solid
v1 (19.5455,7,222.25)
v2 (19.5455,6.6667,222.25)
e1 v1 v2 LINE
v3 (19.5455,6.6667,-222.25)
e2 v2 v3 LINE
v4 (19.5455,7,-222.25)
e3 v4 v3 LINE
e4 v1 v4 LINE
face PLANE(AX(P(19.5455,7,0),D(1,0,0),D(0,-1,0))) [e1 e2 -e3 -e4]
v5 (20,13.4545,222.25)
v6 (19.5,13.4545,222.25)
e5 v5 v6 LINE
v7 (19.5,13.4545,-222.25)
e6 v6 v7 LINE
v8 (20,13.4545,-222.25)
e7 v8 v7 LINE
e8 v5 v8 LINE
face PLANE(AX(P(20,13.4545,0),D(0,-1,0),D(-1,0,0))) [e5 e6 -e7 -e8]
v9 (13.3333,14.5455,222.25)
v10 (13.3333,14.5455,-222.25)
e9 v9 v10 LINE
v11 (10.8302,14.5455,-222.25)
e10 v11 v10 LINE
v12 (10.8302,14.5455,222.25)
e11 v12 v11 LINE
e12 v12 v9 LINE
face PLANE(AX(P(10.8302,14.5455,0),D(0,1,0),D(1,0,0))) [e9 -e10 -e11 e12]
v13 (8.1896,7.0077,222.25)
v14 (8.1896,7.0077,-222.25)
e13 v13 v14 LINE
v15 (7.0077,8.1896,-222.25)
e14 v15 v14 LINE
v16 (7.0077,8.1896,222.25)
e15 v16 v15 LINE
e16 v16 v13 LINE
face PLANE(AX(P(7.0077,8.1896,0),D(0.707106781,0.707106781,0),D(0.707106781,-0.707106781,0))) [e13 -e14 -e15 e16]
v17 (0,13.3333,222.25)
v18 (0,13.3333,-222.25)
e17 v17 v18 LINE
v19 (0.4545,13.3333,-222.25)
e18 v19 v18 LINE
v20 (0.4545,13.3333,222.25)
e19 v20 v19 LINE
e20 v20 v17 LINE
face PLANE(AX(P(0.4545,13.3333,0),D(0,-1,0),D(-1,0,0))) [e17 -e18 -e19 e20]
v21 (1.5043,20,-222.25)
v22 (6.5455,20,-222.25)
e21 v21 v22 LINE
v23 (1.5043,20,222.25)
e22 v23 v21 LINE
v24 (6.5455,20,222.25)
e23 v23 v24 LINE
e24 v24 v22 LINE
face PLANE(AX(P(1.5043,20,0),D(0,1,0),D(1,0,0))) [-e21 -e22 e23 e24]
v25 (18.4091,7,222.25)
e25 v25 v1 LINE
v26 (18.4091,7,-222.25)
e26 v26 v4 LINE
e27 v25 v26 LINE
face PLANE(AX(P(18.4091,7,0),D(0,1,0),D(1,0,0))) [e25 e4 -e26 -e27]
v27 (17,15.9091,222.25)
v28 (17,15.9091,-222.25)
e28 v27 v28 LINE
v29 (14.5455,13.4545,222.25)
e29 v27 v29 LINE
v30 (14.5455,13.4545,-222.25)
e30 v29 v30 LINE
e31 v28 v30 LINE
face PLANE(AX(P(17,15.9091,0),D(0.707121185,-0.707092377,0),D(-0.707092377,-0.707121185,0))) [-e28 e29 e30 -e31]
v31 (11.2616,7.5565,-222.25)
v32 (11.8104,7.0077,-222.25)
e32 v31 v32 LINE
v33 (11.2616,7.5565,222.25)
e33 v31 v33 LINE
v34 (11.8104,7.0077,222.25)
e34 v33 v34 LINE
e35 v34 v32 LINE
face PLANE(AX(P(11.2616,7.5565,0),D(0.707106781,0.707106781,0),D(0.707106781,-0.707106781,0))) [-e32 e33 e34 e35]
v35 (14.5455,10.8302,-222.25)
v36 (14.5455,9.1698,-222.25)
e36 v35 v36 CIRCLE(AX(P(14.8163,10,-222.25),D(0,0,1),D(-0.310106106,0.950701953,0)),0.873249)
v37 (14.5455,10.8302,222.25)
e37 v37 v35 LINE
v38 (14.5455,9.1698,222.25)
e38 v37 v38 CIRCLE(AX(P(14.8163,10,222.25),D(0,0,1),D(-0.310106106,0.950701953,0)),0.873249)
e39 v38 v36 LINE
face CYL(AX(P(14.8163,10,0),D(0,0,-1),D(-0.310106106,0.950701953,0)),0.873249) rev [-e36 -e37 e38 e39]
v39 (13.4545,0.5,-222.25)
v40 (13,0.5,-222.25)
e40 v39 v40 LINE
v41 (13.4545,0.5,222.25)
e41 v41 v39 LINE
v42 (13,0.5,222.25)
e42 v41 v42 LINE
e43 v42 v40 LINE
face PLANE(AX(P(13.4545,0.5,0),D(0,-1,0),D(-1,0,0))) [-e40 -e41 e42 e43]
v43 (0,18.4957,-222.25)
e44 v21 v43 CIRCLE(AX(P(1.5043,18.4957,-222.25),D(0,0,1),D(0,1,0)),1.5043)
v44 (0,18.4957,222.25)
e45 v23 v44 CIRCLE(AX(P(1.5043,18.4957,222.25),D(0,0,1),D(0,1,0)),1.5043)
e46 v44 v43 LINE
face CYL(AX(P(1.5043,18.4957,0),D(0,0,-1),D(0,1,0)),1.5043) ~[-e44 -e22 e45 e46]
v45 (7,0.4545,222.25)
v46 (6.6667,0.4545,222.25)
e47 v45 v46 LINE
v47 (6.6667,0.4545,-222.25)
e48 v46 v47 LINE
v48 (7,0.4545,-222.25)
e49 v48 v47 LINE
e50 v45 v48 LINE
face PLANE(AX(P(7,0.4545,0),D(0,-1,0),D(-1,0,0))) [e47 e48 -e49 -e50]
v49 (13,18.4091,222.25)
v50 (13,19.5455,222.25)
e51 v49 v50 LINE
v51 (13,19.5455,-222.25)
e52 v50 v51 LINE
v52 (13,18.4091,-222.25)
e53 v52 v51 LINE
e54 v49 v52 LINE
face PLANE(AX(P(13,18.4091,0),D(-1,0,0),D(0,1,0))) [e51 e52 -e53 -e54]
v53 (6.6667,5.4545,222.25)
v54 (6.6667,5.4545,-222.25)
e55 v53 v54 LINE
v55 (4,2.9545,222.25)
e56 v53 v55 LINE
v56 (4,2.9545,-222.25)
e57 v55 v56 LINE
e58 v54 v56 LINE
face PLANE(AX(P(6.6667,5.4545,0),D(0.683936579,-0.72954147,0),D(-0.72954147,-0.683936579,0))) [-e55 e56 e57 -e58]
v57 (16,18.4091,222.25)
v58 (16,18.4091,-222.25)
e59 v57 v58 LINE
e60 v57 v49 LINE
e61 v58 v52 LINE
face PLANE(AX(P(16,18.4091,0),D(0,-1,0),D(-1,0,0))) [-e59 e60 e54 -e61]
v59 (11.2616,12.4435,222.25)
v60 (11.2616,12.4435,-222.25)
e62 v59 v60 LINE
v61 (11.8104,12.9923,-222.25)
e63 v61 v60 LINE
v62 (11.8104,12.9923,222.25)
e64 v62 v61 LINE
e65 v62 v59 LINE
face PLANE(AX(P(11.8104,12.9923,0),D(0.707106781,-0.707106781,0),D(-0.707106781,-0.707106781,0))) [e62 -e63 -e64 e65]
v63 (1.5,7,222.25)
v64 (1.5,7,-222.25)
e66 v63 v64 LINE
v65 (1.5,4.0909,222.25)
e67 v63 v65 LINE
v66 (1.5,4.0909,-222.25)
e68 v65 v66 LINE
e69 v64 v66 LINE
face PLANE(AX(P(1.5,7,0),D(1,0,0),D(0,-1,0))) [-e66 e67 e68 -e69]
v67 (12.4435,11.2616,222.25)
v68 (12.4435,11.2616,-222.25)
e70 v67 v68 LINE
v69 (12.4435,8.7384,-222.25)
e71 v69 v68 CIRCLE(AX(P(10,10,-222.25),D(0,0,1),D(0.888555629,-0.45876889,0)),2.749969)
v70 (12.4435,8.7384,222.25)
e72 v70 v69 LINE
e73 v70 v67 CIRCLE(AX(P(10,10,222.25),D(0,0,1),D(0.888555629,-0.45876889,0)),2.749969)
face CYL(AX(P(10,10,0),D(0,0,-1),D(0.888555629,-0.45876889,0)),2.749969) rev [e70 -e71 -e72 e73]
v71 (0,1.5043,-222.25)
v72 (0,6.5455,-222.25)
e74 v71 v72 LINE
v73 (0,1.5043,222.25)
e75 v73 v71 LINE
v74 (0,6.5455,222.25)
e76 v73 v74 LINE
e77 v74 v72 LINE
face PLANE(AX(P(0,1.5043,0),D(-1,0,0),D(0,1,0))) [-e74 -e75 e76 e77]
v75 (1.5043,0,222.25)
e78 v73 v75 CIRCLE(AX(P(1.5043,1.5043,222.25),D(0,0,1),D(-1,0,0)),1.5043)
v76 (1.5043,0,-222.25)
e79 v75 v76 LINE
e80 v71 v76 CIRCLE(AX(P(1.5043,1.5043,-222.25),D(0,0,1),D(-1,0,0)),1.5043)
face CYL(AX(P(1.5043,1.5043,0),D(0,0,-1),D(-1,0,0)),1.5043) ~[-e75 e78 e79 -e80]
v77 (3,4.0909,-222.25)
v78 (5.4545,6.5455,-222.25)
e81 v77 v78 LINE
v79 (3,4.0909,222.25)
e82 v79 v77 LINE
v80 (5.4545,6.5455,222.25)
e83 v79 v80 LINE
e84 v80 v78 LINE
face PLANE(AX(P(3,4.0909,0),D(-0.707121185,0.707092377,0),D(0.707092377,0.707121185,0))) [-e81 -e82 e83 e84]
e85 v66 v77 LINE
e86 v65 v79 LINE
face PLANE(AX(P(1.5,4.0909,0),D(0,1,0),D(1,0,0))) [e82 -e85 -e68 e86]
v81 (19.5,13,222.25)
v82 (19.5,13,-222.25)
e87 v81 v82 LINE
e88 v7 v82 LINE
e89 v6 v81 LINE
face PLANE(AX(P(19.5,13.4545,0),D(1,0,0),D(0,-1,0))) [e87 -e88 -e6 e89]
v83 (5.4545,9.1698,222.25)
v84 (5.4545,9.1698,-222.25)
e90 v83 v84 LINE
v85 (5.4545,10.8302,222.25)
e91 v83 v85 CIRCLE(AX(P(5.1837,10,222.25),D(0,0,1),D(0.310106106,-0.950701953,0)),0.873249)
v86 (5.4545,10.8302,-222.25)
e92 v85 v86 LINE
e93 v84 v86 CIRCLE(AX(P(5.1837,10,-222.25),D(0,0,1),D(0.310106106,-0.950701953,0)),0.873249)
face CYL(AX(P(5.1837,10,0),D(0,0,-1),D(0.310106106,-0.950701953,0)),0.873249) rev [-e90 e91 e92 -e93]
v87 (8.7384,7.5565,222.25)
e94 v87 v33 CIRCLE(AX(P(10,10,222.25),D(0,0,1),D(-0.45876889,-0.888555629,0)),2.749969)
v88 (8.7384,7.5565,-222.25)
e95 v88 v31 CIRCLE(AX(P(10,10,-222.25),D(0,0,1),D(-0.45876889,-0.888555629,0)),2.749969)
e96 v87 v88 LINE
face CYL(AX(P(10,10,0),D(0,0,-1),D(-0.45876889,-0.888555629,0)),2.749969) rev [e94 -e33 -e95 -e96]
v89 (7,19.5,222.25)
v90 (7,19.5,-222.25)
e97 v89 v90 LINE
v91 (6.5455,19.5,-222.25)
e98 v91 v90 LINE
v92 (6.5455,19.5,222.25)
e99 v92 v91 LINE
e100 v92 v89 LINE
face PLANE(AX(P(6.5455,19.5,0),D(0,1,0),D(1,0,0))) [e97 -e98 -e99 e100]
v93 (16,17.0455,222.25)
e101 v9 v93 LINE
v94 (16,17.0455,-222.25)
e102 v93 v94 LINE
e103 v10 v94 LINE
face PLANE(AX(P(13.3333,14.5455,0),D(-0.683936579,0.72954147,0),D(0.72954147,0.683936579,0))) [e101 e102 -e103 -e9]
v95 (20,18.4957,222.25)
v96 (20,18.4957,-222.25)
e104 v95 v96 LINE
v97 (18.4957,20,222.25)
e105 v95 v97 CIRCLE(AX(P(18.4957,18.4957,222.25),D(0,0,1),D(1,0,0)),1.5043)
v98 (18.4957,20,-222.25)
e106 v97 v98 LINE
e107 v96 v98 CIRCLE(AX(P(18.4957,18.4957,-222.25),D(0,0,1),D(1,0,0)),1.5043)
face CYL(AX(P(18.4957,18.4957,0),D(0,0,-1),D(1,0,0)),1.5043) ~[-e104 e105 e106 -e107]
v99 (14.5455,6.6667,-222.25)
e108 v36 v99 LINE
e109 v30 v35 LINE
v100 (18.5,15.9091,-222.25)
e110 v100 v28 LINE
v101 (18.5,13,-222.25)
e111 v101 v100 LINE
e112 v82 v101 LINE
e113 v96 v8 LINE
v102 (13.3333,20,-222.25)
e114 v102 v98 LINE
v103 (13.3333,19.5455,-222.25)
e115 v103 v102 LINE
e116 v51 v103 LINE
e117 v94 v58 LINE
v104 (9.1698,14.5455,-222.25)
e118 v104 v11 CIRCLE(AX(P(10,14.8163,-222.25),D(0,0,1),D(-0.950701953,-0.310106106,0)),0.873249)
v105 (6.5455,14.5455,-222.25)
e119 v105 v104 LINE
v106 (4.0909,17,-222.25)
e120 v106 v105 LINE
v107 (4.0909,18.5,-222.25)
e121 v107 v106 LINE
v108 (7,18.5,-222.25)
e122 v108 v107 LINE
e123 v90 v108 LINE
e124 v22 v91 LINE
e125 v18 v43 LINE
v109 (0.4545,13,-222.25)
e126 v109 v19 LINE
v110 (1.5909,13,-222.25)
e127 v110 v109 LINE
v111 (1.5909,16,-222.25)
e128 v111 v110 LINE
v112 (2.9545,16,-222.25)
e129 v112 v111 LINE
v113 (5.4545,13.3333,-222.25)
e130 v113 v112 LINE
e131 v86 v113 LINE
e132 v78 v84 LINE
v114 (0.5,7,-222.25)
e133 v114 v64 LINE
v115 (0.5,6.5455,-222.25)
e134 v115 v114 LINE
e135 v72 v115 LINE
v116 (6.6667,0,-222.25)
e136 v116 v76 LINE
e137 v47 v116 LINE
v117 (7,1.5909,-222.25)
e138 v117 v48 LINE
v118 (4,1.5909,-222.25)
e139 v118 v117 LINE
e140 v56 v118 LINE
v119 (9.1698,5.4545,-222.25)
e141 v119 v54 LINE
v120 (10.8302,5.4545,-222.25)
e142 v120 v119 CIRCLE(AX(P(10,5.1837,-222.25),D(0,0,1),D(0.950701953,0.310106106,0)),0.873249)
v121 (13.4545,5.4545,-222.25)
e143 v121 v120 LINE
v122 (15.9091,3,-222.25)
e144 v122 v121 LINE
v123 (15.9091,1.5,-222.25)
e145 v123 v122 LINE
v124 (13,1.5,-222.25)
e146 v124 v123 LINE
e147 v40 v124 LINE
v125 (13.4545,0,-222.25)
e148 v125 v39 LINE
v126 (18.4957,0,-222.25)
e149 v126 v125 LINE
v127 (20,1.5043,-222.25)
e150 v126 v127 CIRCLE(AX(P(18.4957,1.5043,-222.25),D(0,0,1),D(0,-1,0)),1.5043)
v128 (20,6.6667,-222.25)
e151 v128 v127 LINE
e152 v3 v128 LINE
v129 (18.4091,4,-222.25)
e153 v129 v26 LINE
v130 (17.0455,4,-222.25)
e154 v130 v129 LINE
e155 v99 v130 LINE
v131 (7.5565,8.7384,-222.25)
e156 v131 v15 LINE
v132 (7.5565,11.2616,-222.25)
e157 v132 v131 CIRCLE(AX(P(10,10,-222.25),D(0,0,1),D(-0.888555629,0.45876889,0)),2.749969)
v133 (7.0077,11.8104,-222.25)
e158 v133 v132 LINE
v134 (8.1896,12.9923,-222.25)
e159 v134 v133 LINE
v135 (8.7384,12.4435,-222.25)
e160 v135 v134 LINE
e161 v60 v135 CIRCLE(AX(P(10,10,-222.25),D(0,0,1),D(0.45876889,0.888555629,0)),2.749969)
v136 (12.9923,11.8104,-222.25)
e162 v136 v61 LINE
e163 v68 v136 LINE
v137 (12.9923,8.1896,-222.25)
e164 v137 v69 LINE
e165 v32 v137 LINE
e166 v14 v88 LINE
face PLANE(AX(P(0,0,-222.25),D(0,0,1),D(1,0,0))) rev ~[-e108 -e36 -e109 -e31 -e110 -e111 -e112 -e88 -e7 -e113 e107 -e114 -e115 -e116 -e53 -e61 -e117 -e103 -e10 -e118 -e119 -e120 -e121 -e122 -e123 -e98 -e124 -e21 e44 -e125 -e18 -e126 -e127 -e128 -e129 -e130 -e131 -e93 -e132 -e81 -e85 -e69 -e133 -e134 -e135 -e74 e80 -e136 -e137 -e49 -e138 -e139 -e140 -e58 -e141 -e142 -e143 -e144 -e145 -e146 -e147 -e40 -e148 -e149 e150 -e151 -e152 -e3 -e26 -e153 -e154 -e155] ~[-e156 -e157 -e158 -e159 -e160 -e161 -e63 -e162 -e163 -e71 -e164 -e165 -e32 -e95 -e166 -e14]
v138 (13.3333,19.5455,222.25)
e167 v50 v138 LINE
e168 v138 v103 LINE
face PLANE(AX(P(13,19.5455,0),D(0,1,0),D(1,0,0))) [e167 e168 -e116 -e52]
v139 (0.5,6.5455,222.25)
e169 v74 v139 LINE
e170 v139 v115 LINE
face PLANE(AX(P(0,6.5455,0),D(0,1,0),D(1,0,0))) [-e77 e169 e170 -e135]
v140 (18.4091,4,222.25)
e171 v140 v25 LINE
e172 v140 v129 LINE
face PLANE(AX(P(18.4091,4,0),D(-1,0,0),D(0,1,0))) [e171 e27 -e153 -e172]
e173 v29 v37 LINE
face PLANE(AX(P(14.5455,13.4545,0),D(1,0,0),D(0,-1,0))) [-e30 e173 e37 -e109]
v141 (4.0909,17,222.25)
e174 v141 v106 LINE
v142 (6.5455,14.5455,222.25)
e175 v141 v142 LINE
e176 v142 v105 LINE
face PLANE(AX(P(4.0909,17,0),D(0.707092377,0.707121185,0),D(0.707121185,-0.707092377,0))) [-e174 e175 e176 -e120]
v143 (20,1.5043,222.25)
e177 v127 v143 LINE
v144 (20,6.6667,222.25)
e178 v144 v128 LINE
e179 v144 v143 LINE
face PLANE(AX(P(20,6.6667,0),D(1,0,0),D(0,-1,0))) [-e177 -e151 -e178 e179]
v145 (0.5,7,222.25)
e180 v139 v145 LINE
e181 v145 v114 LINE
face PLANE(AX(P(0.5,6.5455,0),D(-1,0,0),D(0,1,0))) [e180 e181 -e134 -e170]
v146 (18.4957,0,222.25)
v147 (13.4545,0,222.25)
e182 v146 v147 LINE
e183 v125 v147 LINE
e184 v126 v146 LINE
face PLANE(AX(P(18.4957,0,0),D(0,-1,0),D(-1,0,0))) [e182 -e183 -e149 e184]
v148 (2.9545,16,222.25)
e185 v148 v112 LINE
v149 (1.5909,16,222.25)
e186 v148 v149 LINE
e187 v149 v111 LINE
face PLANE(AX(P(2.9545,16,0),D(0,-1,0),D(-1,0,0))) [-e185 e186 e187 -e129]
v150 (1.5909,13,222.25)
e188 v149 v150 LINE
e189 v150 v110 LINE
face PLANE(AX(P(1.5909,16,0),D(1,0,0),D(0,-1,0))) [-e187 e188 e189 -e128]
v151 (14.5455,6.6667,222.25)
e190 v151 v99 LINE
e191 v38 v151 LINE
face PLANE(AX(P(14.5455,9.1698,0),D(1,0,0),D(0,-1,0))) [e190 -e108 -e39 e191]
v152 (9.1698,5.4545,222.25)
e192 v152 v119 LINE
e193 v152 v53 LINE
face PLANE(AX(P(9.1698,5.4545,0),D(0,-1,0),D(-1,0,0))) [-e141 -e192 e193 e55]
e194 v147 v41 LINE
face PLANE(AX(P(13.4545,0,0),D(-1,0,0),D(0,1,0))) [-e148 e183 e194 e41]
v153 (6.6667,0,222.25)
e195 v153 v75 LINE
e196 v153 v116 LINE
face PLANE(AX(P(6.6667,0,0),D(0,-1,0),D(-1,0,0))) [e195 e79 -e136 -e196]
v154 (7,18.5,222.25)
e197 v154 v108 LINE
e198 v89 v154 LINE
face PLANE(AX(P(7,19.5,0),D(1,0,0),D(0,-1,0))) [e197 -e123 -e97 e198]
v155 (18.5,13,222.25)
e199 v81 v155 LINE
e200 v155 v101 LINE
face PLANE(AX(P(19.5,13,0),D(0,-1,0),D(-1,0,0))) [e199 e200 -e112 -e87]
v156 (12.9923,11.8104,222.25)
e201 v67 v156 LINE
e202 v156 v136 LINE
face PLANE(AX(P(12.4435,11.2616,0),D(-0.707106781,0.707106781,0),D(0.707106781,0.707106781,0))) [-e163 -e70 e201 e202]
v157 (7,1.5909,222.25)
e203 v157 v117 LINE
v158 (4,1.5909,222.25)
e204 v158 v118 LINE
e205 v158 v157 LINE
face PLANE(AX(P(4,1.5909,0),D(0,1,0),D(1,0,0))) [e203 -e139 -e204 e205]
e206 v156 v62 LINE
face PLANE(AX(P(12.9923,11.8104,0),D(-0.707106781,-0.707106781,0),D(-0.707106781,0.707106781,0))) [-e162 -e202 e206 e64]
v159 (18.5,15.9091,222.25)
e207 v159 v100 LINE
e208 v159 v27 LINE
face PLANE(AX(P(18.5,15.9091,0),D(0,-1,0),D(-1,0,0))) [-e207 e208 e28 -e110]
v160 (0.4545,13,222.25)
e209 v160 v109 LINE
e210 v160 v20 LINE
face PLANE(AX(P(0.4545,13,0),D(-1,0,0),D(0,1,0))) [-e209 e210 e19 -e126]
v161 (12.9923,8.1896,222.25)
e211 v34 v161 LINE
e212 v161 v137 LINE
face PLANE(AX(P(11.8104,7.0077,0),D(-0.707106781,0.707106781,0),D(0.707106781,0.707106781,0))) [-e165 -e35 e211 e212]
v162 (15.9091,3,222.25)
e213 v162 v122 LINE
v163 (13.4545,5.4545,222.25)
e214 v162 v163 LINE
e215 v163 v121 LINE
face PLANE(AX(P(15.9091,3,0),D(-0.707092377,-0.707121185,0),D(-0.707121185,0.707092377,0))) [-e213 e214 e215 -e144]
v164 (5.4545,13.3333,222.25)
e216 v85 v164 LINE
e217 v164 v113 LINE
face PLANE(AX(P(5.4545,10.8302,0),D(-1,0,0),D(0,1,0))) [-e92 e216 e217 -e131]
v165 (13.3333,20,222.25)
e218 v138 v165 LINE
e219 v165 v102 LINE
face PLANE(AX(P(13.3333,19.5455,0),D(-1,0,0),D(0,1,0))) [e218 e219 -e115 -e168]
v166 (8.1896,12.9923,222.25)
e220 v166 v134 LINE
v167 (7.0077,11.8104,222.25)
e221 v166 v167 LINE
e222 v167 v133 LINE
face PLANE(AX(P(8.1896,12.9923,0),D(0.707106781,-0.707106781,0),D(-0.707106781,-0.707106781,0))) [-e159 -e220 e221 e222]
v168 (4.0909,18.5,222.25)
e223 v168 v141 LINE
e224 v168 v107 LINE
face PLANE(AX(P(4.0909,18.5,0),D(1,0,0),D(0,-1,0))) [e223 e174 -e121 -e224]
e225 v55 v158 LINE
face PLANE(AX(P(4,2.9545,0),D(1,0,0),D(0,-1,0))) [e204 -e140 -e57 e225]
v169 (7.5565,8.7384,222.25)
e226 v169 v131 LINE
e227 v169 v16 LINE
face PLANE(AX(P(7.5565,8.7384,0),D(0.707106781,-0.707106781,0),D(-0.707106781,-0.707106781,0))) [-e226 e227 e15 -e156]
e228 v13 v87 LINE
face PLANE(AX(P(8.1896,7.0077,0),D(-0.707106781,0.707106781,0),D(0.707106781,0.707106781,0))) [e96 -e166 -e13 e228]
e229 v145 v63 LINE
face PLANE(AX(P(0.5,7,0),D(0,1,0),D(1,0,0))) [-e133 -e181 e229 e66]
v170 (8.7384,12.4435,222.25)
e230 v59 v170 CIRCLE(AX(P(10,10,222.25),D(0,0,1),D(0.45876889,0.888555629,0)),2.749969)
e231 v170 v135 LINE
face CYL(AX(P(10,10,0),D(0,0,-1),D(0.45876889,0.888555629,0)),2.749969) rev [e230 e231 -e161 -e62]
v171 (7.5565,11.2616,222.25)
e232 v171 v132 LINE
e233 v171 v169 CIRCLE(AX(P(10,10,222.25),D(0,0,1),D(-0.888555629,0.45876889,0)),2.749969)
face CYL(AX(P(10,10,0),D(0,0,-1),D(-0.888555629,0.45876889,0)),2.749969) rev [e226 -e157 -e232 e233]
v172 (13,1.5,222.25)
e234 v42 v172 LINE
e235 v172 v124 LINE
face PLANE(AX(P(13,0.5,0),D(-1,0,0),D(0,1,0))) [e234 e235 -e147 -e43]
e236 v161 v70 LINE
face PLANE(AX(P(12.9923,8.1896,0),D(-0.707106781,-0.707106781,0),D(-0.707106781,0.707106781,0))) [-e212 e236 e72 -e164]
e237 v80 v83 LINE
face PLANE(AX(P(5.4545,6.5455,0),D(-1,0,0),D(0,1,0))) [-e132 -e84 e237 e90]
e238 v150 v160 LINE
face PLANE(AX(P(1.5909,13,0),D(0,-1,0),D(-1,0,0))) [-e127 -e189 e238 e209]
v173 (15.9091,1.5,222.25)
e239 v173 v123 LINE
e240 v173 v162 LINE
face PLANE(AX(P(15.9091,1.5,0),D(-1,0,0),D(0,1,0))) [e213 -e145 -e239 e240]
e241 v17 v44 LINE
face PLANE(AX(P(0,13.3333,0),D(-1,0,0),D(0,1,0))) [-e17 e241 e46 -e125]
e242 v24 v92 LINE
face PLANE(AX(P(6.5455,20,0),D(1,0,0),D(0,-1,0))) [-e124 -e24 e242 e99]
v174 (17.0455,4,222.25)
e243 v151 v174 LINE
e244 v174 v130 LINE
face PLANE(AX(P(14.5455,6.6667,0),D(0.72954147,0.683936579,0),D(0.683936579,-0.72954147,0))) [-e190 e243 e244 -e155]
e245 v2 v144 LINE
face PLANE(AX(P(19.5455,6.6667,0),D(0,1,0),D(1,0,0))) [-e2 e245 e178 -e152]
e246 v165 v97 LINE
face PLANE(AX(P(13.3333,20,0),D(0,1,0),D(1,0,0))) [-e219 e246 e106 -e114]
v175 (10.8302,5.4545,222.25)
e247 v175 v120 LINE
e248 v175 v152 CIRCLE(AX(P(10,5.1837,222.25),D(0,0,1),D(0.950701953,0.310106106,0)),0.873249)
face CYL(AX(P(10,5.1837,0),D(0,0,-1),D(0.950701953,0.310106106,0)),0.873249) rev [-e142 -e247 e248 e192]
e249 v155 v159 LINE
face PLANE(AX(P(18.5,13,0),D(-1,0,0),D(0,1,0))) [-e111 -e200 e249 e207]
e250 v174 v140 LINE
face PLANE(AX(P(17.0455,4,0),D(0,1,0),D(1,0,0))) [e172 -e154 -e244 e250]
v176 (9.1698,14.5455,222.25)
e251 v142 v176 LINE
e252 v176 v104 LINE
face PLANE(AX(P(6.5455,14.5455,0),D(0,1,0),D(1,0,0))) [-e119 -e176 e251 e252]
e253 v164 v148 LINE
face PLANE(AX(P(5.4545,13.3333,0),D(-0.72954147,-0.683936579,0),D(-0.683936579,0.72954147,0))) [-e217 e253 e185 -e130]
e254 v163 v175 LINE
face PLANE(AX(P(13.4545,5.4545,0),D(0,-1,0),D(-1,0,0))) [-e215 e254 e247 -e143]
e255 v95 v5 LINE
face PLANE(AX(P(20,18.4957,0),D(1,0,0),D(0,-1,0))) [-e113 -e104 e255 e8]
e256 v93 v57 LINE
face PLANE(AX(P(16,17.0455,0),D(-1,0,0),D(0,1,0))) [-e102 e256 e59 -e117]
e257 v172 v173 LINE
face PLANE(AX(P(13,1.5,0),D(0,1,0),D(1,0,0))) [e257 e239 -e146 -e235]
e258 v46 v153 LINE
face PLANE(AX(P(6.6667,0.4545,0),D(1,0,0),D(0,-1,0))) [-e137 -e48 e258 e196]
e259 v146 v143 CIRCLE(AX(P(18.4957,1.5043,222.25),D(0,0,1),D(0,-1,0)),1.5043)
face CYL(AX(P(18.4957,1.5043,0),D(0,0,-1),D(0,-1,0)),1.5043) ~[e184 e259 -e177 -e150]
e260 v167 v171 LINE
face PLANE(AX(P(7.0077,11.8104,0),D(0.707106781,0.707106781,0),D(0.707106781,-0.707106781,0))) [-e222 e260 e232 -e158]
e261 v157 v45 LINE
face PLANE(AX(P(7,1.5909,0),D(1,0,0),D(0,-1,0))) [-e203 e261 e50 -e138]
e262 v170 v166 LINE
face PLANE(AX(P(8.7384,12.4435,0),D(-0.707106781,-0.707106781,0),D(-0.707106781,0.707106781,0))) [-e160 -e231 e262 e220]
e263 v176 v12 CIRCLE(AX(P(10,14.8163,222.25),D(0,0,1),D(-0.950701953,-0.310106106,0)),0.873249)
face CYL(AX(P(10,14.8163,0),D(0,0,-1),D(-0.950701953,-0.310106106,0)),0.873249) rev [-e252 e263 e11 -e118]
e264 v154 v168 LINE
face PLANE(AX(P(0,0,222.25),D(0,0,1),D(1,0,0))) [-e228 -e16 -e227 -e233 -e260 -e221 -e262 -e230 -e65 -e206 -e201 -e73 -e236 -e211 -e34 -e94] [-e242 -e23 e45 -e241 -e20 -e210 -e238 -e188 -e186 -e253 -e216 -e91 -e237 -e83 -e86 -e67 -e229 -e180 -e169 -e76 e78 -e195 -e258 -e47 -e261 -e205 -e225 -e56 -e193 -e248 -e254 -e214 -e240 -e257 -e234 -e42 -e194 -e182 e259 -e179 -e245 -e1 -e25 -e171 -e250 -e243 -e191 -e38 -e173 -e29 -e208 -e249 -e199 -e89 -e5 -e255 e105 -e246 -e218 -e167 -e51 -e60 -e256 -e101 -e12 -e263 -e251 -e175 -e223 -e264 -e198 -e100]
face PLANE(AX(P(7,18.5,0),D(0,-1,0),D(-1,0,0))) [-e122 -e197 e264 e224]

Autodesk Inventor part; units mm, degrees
ref_plane "YZ Plane" through (0, 0, 0) normal (1, 0, 0) x (0, 1, 0)
ref_plane "XZ Plane" through (0, 0, 0) normal (0, 1, 0) x (-1, 0, 0)
ref_plane "XY Plane" through (0, 0, 0) normal (0, 0, 1) x (1, 0, 0)
sketch "Sketch1" plane through (0, 0, 0) normal (0, 0, 1) x (1, 0, 0)
  line L0 (11.2616, 7.5565) -> (11.8104, 7.0077)
  line L1 (11.8104, 7.0077) -> (12.9923, 8.1896)
  line L2 (12.9923, 8.1896) -> (12.4435, 8.7384)
  arc A0 (12.4435, 8.7384) -> (12.4435, 11.2616) centre (10, 10) ccw
  line L3 (12.4435, 11.2616) -> (12.9923, 11.8104)
  line L4 (12.9923, 11.8104) -> (11.8104, 12.9923)
  line L5 (11.8104, 12.9923) -> (11.2616, 12.4435)
  arc A1 (11.2616, 12.4435) -> (8.7384, 12.4435) centre (10, 10) ccw
  line L6 (8.7384, 12.4435) -> (8.1896, 12.9923)
  line L7 (8.1896, 12.9923) -> (7.0077, 11.8104)
  line L8 (7.0077, 11.8104) -> (7.5565, 11.2616)
  arc A2 (7.5565, 11.2616) -> (7.5565, 8.7384) centre (10, 10) ccw
  line L9 (7.5565, 8.7384) -> (7.0077, 8.1896)
  line L10 (7.0077, 8.1896) -> (8.1896, 7.0077)
  line L11 (8.1896, 7.0077) -> (8.7384, 7.5565)
  arc A3 (8.7384, 7.5565) -> (11.2616, 7.5565) centre (10, 10) ccw
  line L12 (13.4545, 0) -> (13.4545, 0.5)
  line L13 (13.4545, 0.5) -> (13, 0.5)
  line L14 (13, 0.5) -> (13, 1.5)
  line L15 (13, 1.5) -> (15.9091, 1.5)
  line L16 (15.9091, 1.5) -> (15.9091, 3)
  line L17 (15.9091, 3) -> (13.4545, 5.4545)
  line L18 (13.4545, 5.4545) -> (10.8302, 5.4545)
  arc A4 (10.8302, 5.4545) -> (9.1698, 5.4545) centre (10, 5.1837) ccw
  line L19 (9.1698, 5.4545) -> (6.6667, 5.4545)
  line L20 (6.6667, 5.4545) -> (4, 2.9545)
  line L21 (4, 2.9545) -> (4, 1.5909)
  line L22 (4, 1.5909) -> (7, 1.5909)
  line L23 (7, 1.5909) -> (7, 0.4545)
  line L24 (7, 0.4545) -> (6.6667, 0.4545)
  line L25 (6.6667, 0.4545) -> (6.6667, 0)
  line L26 (6.6667, 0) -> (1.5043, 0)
  arc A5 (0, 1.5043) -> (1.5043, 0) centre (1.5043, 1.5043) ccw
  line L27 (0, 1.5043) -> (0, 6.5455)
  line L28 (0, 6.5455) -> (0.5, 6.5455)
  line L29 (0.5, 6.5455) -> (0.5, 7)
  line L30 (0.5, 7) -> (1.5, 7)
  line L31 (1.5, 7) -> (1.5, 4.0909)
  line L32 (1.5, 4.0909) -> (3, 4.0909)
  line L33 (3, 4.0909) -> (5.4545, 6.5455)
  line L34 (5.4545, 6.5455) -> (5.4545, 9.1698)
  arc A6 (5.4545, 9.1698) -> (5.4545, 10.8302) centre (5.1837, 10) ccw
  line L35 (5.4545, 10.8302) -> (5.4545, 13.3333)
  line L36 (5.4545, 13.3333) -> (2.9545, 16)
  line L37 (2.9545, 16) -> (1.5909, 16)
  line L38 (1.5909, 16) -> (1.5909, 13)
  line L39 (1.5909, 13) -> (0.4545, 13)
  line L40 (0.4545, 13) -> (0.4545, 13.3333)
  line L41 (0.4545, 13.3333) -> (0, 13.3333)
  line L42 (0, 13.3333) -> (0, 18.4957)
  arc A7 (1.5043, 20) -> (0, 18.4957) centre (1.5043, 18.4957) ccw
  line L43 (1.5043, 20) -> (6.5455, 20)
  line L44 (6.5455, 20) -> (6.5455, 19.5)
  line L45 (6.5455, 19.5) -> (7, 19.5)
  line L46 (7, 19.5) -> (7, 18.5)
  line L47 (7, 18.5) -> (4.0909, 18.5)
  line L48 (4.0909, 18.5) -> (4.0909, 17)
  line L49 (4.0909, 17) -> (6.5455, 14.5455)
  line L50 (6.5455, 14.5455) -> (9.1698, 14.5455)
  arc A8 (9.1698, 14.5455) -> (10.8302, 14.5455) centre (10, 14.8163) ccw
  line L51 (10.8302, 14.5455) -> (13.3333, 14.5455)
  line L52 (13.3333, 14.5455) -> (16, 17.0455)
  line L53 (16, 17.0455) -> (16, 18.4091)
  line L54 (16, 18.4091) -> (13, 18.4091)
  line L55 (13, 18.4091) -> (13, 19.5455)
  line L56 (13, 19.5455) -> (13.3333, 19.5455)
  line L57 (13.3333, 19.5455) -> (13.3333, 20)
  line L58 (13.3333, 20) -> (18.4957, 20)
  arc A9 (20, 18.4957) -> (18.4957, 20) centre (18.4957, 18.4957) ccw
  line L59 (20, 18.4957) -> (20, 13.4545)
  line L60 (20, 13.4545) -> (19.5, 13.4545)
  line L61 (19.5, 13.4545) -> (19.5, 13)
  line L62 (19.5, 13) -> (18.5, 13)
  line L63 (18.5, 13) -> (18.5, 15.9091)
  line L64 (18.5, 15.9091) -> (17, 15.9091)
  line L65 (17, 15.9091) -> (14.5455, 13.4545)
  line L66 (14.5455, 13.4545) -> (14.5455, 10.8302)
  arc A10 (14.5455, 10.8302) -> (14.5455, 9.1698) centre (14.8163, 10) ccw
  line L67 (14.5455, 9.1698) -> (14.5455, 6.6667)
  line L68 (14.5455, 6.6667) -> (17.0455, 4)
  line L69 (17.0455, 4) -> (18.4091, 4)
  line L70 (18.4091, 4) -> (18.4091, 7)
  line L71 (18.4091, 7) -> (19.5455, 7)
  line L72 (19.5455, 7) -> (19.5455, 6.6667)
  line L73 (19.5455, 6.6667) -> (20, 6.6667)
  line L74 (20, 6.6667) -> (20, 1.5043)
  arc A11 (18.4957, 0) -> (20, 1.5043) centre (18.4957, 1.5043) ccw
  line L75 (18.4957, 0) -> (13.4545, 0)
  point P0 (0, 0)
  point P1 (0.4406, 0.4406)
  point P2 (10, 0)
  point P3 (10, 0)
  point P4 (10, 0)
  point P5 (19.5594, 0.4406)
  point P6 (0, 10)
  point P7 (0, 10)
  point P8 (0, 10)
  point P9 (10, 10)
  point P10 (20, 10)
  point P11 (20, 10)
  point P12 (20, 10)
  point P13 (0.4406, 19.5594)
  point P14 (10, 20)
  point P15 (10, 20)
  point P16 (10, 20)
  point P17 (19.5594, 19.5594)
extrude "Extrusion1" add sketch "Sketch1" along normal mid plane 444.5
properties part number "Long side"
